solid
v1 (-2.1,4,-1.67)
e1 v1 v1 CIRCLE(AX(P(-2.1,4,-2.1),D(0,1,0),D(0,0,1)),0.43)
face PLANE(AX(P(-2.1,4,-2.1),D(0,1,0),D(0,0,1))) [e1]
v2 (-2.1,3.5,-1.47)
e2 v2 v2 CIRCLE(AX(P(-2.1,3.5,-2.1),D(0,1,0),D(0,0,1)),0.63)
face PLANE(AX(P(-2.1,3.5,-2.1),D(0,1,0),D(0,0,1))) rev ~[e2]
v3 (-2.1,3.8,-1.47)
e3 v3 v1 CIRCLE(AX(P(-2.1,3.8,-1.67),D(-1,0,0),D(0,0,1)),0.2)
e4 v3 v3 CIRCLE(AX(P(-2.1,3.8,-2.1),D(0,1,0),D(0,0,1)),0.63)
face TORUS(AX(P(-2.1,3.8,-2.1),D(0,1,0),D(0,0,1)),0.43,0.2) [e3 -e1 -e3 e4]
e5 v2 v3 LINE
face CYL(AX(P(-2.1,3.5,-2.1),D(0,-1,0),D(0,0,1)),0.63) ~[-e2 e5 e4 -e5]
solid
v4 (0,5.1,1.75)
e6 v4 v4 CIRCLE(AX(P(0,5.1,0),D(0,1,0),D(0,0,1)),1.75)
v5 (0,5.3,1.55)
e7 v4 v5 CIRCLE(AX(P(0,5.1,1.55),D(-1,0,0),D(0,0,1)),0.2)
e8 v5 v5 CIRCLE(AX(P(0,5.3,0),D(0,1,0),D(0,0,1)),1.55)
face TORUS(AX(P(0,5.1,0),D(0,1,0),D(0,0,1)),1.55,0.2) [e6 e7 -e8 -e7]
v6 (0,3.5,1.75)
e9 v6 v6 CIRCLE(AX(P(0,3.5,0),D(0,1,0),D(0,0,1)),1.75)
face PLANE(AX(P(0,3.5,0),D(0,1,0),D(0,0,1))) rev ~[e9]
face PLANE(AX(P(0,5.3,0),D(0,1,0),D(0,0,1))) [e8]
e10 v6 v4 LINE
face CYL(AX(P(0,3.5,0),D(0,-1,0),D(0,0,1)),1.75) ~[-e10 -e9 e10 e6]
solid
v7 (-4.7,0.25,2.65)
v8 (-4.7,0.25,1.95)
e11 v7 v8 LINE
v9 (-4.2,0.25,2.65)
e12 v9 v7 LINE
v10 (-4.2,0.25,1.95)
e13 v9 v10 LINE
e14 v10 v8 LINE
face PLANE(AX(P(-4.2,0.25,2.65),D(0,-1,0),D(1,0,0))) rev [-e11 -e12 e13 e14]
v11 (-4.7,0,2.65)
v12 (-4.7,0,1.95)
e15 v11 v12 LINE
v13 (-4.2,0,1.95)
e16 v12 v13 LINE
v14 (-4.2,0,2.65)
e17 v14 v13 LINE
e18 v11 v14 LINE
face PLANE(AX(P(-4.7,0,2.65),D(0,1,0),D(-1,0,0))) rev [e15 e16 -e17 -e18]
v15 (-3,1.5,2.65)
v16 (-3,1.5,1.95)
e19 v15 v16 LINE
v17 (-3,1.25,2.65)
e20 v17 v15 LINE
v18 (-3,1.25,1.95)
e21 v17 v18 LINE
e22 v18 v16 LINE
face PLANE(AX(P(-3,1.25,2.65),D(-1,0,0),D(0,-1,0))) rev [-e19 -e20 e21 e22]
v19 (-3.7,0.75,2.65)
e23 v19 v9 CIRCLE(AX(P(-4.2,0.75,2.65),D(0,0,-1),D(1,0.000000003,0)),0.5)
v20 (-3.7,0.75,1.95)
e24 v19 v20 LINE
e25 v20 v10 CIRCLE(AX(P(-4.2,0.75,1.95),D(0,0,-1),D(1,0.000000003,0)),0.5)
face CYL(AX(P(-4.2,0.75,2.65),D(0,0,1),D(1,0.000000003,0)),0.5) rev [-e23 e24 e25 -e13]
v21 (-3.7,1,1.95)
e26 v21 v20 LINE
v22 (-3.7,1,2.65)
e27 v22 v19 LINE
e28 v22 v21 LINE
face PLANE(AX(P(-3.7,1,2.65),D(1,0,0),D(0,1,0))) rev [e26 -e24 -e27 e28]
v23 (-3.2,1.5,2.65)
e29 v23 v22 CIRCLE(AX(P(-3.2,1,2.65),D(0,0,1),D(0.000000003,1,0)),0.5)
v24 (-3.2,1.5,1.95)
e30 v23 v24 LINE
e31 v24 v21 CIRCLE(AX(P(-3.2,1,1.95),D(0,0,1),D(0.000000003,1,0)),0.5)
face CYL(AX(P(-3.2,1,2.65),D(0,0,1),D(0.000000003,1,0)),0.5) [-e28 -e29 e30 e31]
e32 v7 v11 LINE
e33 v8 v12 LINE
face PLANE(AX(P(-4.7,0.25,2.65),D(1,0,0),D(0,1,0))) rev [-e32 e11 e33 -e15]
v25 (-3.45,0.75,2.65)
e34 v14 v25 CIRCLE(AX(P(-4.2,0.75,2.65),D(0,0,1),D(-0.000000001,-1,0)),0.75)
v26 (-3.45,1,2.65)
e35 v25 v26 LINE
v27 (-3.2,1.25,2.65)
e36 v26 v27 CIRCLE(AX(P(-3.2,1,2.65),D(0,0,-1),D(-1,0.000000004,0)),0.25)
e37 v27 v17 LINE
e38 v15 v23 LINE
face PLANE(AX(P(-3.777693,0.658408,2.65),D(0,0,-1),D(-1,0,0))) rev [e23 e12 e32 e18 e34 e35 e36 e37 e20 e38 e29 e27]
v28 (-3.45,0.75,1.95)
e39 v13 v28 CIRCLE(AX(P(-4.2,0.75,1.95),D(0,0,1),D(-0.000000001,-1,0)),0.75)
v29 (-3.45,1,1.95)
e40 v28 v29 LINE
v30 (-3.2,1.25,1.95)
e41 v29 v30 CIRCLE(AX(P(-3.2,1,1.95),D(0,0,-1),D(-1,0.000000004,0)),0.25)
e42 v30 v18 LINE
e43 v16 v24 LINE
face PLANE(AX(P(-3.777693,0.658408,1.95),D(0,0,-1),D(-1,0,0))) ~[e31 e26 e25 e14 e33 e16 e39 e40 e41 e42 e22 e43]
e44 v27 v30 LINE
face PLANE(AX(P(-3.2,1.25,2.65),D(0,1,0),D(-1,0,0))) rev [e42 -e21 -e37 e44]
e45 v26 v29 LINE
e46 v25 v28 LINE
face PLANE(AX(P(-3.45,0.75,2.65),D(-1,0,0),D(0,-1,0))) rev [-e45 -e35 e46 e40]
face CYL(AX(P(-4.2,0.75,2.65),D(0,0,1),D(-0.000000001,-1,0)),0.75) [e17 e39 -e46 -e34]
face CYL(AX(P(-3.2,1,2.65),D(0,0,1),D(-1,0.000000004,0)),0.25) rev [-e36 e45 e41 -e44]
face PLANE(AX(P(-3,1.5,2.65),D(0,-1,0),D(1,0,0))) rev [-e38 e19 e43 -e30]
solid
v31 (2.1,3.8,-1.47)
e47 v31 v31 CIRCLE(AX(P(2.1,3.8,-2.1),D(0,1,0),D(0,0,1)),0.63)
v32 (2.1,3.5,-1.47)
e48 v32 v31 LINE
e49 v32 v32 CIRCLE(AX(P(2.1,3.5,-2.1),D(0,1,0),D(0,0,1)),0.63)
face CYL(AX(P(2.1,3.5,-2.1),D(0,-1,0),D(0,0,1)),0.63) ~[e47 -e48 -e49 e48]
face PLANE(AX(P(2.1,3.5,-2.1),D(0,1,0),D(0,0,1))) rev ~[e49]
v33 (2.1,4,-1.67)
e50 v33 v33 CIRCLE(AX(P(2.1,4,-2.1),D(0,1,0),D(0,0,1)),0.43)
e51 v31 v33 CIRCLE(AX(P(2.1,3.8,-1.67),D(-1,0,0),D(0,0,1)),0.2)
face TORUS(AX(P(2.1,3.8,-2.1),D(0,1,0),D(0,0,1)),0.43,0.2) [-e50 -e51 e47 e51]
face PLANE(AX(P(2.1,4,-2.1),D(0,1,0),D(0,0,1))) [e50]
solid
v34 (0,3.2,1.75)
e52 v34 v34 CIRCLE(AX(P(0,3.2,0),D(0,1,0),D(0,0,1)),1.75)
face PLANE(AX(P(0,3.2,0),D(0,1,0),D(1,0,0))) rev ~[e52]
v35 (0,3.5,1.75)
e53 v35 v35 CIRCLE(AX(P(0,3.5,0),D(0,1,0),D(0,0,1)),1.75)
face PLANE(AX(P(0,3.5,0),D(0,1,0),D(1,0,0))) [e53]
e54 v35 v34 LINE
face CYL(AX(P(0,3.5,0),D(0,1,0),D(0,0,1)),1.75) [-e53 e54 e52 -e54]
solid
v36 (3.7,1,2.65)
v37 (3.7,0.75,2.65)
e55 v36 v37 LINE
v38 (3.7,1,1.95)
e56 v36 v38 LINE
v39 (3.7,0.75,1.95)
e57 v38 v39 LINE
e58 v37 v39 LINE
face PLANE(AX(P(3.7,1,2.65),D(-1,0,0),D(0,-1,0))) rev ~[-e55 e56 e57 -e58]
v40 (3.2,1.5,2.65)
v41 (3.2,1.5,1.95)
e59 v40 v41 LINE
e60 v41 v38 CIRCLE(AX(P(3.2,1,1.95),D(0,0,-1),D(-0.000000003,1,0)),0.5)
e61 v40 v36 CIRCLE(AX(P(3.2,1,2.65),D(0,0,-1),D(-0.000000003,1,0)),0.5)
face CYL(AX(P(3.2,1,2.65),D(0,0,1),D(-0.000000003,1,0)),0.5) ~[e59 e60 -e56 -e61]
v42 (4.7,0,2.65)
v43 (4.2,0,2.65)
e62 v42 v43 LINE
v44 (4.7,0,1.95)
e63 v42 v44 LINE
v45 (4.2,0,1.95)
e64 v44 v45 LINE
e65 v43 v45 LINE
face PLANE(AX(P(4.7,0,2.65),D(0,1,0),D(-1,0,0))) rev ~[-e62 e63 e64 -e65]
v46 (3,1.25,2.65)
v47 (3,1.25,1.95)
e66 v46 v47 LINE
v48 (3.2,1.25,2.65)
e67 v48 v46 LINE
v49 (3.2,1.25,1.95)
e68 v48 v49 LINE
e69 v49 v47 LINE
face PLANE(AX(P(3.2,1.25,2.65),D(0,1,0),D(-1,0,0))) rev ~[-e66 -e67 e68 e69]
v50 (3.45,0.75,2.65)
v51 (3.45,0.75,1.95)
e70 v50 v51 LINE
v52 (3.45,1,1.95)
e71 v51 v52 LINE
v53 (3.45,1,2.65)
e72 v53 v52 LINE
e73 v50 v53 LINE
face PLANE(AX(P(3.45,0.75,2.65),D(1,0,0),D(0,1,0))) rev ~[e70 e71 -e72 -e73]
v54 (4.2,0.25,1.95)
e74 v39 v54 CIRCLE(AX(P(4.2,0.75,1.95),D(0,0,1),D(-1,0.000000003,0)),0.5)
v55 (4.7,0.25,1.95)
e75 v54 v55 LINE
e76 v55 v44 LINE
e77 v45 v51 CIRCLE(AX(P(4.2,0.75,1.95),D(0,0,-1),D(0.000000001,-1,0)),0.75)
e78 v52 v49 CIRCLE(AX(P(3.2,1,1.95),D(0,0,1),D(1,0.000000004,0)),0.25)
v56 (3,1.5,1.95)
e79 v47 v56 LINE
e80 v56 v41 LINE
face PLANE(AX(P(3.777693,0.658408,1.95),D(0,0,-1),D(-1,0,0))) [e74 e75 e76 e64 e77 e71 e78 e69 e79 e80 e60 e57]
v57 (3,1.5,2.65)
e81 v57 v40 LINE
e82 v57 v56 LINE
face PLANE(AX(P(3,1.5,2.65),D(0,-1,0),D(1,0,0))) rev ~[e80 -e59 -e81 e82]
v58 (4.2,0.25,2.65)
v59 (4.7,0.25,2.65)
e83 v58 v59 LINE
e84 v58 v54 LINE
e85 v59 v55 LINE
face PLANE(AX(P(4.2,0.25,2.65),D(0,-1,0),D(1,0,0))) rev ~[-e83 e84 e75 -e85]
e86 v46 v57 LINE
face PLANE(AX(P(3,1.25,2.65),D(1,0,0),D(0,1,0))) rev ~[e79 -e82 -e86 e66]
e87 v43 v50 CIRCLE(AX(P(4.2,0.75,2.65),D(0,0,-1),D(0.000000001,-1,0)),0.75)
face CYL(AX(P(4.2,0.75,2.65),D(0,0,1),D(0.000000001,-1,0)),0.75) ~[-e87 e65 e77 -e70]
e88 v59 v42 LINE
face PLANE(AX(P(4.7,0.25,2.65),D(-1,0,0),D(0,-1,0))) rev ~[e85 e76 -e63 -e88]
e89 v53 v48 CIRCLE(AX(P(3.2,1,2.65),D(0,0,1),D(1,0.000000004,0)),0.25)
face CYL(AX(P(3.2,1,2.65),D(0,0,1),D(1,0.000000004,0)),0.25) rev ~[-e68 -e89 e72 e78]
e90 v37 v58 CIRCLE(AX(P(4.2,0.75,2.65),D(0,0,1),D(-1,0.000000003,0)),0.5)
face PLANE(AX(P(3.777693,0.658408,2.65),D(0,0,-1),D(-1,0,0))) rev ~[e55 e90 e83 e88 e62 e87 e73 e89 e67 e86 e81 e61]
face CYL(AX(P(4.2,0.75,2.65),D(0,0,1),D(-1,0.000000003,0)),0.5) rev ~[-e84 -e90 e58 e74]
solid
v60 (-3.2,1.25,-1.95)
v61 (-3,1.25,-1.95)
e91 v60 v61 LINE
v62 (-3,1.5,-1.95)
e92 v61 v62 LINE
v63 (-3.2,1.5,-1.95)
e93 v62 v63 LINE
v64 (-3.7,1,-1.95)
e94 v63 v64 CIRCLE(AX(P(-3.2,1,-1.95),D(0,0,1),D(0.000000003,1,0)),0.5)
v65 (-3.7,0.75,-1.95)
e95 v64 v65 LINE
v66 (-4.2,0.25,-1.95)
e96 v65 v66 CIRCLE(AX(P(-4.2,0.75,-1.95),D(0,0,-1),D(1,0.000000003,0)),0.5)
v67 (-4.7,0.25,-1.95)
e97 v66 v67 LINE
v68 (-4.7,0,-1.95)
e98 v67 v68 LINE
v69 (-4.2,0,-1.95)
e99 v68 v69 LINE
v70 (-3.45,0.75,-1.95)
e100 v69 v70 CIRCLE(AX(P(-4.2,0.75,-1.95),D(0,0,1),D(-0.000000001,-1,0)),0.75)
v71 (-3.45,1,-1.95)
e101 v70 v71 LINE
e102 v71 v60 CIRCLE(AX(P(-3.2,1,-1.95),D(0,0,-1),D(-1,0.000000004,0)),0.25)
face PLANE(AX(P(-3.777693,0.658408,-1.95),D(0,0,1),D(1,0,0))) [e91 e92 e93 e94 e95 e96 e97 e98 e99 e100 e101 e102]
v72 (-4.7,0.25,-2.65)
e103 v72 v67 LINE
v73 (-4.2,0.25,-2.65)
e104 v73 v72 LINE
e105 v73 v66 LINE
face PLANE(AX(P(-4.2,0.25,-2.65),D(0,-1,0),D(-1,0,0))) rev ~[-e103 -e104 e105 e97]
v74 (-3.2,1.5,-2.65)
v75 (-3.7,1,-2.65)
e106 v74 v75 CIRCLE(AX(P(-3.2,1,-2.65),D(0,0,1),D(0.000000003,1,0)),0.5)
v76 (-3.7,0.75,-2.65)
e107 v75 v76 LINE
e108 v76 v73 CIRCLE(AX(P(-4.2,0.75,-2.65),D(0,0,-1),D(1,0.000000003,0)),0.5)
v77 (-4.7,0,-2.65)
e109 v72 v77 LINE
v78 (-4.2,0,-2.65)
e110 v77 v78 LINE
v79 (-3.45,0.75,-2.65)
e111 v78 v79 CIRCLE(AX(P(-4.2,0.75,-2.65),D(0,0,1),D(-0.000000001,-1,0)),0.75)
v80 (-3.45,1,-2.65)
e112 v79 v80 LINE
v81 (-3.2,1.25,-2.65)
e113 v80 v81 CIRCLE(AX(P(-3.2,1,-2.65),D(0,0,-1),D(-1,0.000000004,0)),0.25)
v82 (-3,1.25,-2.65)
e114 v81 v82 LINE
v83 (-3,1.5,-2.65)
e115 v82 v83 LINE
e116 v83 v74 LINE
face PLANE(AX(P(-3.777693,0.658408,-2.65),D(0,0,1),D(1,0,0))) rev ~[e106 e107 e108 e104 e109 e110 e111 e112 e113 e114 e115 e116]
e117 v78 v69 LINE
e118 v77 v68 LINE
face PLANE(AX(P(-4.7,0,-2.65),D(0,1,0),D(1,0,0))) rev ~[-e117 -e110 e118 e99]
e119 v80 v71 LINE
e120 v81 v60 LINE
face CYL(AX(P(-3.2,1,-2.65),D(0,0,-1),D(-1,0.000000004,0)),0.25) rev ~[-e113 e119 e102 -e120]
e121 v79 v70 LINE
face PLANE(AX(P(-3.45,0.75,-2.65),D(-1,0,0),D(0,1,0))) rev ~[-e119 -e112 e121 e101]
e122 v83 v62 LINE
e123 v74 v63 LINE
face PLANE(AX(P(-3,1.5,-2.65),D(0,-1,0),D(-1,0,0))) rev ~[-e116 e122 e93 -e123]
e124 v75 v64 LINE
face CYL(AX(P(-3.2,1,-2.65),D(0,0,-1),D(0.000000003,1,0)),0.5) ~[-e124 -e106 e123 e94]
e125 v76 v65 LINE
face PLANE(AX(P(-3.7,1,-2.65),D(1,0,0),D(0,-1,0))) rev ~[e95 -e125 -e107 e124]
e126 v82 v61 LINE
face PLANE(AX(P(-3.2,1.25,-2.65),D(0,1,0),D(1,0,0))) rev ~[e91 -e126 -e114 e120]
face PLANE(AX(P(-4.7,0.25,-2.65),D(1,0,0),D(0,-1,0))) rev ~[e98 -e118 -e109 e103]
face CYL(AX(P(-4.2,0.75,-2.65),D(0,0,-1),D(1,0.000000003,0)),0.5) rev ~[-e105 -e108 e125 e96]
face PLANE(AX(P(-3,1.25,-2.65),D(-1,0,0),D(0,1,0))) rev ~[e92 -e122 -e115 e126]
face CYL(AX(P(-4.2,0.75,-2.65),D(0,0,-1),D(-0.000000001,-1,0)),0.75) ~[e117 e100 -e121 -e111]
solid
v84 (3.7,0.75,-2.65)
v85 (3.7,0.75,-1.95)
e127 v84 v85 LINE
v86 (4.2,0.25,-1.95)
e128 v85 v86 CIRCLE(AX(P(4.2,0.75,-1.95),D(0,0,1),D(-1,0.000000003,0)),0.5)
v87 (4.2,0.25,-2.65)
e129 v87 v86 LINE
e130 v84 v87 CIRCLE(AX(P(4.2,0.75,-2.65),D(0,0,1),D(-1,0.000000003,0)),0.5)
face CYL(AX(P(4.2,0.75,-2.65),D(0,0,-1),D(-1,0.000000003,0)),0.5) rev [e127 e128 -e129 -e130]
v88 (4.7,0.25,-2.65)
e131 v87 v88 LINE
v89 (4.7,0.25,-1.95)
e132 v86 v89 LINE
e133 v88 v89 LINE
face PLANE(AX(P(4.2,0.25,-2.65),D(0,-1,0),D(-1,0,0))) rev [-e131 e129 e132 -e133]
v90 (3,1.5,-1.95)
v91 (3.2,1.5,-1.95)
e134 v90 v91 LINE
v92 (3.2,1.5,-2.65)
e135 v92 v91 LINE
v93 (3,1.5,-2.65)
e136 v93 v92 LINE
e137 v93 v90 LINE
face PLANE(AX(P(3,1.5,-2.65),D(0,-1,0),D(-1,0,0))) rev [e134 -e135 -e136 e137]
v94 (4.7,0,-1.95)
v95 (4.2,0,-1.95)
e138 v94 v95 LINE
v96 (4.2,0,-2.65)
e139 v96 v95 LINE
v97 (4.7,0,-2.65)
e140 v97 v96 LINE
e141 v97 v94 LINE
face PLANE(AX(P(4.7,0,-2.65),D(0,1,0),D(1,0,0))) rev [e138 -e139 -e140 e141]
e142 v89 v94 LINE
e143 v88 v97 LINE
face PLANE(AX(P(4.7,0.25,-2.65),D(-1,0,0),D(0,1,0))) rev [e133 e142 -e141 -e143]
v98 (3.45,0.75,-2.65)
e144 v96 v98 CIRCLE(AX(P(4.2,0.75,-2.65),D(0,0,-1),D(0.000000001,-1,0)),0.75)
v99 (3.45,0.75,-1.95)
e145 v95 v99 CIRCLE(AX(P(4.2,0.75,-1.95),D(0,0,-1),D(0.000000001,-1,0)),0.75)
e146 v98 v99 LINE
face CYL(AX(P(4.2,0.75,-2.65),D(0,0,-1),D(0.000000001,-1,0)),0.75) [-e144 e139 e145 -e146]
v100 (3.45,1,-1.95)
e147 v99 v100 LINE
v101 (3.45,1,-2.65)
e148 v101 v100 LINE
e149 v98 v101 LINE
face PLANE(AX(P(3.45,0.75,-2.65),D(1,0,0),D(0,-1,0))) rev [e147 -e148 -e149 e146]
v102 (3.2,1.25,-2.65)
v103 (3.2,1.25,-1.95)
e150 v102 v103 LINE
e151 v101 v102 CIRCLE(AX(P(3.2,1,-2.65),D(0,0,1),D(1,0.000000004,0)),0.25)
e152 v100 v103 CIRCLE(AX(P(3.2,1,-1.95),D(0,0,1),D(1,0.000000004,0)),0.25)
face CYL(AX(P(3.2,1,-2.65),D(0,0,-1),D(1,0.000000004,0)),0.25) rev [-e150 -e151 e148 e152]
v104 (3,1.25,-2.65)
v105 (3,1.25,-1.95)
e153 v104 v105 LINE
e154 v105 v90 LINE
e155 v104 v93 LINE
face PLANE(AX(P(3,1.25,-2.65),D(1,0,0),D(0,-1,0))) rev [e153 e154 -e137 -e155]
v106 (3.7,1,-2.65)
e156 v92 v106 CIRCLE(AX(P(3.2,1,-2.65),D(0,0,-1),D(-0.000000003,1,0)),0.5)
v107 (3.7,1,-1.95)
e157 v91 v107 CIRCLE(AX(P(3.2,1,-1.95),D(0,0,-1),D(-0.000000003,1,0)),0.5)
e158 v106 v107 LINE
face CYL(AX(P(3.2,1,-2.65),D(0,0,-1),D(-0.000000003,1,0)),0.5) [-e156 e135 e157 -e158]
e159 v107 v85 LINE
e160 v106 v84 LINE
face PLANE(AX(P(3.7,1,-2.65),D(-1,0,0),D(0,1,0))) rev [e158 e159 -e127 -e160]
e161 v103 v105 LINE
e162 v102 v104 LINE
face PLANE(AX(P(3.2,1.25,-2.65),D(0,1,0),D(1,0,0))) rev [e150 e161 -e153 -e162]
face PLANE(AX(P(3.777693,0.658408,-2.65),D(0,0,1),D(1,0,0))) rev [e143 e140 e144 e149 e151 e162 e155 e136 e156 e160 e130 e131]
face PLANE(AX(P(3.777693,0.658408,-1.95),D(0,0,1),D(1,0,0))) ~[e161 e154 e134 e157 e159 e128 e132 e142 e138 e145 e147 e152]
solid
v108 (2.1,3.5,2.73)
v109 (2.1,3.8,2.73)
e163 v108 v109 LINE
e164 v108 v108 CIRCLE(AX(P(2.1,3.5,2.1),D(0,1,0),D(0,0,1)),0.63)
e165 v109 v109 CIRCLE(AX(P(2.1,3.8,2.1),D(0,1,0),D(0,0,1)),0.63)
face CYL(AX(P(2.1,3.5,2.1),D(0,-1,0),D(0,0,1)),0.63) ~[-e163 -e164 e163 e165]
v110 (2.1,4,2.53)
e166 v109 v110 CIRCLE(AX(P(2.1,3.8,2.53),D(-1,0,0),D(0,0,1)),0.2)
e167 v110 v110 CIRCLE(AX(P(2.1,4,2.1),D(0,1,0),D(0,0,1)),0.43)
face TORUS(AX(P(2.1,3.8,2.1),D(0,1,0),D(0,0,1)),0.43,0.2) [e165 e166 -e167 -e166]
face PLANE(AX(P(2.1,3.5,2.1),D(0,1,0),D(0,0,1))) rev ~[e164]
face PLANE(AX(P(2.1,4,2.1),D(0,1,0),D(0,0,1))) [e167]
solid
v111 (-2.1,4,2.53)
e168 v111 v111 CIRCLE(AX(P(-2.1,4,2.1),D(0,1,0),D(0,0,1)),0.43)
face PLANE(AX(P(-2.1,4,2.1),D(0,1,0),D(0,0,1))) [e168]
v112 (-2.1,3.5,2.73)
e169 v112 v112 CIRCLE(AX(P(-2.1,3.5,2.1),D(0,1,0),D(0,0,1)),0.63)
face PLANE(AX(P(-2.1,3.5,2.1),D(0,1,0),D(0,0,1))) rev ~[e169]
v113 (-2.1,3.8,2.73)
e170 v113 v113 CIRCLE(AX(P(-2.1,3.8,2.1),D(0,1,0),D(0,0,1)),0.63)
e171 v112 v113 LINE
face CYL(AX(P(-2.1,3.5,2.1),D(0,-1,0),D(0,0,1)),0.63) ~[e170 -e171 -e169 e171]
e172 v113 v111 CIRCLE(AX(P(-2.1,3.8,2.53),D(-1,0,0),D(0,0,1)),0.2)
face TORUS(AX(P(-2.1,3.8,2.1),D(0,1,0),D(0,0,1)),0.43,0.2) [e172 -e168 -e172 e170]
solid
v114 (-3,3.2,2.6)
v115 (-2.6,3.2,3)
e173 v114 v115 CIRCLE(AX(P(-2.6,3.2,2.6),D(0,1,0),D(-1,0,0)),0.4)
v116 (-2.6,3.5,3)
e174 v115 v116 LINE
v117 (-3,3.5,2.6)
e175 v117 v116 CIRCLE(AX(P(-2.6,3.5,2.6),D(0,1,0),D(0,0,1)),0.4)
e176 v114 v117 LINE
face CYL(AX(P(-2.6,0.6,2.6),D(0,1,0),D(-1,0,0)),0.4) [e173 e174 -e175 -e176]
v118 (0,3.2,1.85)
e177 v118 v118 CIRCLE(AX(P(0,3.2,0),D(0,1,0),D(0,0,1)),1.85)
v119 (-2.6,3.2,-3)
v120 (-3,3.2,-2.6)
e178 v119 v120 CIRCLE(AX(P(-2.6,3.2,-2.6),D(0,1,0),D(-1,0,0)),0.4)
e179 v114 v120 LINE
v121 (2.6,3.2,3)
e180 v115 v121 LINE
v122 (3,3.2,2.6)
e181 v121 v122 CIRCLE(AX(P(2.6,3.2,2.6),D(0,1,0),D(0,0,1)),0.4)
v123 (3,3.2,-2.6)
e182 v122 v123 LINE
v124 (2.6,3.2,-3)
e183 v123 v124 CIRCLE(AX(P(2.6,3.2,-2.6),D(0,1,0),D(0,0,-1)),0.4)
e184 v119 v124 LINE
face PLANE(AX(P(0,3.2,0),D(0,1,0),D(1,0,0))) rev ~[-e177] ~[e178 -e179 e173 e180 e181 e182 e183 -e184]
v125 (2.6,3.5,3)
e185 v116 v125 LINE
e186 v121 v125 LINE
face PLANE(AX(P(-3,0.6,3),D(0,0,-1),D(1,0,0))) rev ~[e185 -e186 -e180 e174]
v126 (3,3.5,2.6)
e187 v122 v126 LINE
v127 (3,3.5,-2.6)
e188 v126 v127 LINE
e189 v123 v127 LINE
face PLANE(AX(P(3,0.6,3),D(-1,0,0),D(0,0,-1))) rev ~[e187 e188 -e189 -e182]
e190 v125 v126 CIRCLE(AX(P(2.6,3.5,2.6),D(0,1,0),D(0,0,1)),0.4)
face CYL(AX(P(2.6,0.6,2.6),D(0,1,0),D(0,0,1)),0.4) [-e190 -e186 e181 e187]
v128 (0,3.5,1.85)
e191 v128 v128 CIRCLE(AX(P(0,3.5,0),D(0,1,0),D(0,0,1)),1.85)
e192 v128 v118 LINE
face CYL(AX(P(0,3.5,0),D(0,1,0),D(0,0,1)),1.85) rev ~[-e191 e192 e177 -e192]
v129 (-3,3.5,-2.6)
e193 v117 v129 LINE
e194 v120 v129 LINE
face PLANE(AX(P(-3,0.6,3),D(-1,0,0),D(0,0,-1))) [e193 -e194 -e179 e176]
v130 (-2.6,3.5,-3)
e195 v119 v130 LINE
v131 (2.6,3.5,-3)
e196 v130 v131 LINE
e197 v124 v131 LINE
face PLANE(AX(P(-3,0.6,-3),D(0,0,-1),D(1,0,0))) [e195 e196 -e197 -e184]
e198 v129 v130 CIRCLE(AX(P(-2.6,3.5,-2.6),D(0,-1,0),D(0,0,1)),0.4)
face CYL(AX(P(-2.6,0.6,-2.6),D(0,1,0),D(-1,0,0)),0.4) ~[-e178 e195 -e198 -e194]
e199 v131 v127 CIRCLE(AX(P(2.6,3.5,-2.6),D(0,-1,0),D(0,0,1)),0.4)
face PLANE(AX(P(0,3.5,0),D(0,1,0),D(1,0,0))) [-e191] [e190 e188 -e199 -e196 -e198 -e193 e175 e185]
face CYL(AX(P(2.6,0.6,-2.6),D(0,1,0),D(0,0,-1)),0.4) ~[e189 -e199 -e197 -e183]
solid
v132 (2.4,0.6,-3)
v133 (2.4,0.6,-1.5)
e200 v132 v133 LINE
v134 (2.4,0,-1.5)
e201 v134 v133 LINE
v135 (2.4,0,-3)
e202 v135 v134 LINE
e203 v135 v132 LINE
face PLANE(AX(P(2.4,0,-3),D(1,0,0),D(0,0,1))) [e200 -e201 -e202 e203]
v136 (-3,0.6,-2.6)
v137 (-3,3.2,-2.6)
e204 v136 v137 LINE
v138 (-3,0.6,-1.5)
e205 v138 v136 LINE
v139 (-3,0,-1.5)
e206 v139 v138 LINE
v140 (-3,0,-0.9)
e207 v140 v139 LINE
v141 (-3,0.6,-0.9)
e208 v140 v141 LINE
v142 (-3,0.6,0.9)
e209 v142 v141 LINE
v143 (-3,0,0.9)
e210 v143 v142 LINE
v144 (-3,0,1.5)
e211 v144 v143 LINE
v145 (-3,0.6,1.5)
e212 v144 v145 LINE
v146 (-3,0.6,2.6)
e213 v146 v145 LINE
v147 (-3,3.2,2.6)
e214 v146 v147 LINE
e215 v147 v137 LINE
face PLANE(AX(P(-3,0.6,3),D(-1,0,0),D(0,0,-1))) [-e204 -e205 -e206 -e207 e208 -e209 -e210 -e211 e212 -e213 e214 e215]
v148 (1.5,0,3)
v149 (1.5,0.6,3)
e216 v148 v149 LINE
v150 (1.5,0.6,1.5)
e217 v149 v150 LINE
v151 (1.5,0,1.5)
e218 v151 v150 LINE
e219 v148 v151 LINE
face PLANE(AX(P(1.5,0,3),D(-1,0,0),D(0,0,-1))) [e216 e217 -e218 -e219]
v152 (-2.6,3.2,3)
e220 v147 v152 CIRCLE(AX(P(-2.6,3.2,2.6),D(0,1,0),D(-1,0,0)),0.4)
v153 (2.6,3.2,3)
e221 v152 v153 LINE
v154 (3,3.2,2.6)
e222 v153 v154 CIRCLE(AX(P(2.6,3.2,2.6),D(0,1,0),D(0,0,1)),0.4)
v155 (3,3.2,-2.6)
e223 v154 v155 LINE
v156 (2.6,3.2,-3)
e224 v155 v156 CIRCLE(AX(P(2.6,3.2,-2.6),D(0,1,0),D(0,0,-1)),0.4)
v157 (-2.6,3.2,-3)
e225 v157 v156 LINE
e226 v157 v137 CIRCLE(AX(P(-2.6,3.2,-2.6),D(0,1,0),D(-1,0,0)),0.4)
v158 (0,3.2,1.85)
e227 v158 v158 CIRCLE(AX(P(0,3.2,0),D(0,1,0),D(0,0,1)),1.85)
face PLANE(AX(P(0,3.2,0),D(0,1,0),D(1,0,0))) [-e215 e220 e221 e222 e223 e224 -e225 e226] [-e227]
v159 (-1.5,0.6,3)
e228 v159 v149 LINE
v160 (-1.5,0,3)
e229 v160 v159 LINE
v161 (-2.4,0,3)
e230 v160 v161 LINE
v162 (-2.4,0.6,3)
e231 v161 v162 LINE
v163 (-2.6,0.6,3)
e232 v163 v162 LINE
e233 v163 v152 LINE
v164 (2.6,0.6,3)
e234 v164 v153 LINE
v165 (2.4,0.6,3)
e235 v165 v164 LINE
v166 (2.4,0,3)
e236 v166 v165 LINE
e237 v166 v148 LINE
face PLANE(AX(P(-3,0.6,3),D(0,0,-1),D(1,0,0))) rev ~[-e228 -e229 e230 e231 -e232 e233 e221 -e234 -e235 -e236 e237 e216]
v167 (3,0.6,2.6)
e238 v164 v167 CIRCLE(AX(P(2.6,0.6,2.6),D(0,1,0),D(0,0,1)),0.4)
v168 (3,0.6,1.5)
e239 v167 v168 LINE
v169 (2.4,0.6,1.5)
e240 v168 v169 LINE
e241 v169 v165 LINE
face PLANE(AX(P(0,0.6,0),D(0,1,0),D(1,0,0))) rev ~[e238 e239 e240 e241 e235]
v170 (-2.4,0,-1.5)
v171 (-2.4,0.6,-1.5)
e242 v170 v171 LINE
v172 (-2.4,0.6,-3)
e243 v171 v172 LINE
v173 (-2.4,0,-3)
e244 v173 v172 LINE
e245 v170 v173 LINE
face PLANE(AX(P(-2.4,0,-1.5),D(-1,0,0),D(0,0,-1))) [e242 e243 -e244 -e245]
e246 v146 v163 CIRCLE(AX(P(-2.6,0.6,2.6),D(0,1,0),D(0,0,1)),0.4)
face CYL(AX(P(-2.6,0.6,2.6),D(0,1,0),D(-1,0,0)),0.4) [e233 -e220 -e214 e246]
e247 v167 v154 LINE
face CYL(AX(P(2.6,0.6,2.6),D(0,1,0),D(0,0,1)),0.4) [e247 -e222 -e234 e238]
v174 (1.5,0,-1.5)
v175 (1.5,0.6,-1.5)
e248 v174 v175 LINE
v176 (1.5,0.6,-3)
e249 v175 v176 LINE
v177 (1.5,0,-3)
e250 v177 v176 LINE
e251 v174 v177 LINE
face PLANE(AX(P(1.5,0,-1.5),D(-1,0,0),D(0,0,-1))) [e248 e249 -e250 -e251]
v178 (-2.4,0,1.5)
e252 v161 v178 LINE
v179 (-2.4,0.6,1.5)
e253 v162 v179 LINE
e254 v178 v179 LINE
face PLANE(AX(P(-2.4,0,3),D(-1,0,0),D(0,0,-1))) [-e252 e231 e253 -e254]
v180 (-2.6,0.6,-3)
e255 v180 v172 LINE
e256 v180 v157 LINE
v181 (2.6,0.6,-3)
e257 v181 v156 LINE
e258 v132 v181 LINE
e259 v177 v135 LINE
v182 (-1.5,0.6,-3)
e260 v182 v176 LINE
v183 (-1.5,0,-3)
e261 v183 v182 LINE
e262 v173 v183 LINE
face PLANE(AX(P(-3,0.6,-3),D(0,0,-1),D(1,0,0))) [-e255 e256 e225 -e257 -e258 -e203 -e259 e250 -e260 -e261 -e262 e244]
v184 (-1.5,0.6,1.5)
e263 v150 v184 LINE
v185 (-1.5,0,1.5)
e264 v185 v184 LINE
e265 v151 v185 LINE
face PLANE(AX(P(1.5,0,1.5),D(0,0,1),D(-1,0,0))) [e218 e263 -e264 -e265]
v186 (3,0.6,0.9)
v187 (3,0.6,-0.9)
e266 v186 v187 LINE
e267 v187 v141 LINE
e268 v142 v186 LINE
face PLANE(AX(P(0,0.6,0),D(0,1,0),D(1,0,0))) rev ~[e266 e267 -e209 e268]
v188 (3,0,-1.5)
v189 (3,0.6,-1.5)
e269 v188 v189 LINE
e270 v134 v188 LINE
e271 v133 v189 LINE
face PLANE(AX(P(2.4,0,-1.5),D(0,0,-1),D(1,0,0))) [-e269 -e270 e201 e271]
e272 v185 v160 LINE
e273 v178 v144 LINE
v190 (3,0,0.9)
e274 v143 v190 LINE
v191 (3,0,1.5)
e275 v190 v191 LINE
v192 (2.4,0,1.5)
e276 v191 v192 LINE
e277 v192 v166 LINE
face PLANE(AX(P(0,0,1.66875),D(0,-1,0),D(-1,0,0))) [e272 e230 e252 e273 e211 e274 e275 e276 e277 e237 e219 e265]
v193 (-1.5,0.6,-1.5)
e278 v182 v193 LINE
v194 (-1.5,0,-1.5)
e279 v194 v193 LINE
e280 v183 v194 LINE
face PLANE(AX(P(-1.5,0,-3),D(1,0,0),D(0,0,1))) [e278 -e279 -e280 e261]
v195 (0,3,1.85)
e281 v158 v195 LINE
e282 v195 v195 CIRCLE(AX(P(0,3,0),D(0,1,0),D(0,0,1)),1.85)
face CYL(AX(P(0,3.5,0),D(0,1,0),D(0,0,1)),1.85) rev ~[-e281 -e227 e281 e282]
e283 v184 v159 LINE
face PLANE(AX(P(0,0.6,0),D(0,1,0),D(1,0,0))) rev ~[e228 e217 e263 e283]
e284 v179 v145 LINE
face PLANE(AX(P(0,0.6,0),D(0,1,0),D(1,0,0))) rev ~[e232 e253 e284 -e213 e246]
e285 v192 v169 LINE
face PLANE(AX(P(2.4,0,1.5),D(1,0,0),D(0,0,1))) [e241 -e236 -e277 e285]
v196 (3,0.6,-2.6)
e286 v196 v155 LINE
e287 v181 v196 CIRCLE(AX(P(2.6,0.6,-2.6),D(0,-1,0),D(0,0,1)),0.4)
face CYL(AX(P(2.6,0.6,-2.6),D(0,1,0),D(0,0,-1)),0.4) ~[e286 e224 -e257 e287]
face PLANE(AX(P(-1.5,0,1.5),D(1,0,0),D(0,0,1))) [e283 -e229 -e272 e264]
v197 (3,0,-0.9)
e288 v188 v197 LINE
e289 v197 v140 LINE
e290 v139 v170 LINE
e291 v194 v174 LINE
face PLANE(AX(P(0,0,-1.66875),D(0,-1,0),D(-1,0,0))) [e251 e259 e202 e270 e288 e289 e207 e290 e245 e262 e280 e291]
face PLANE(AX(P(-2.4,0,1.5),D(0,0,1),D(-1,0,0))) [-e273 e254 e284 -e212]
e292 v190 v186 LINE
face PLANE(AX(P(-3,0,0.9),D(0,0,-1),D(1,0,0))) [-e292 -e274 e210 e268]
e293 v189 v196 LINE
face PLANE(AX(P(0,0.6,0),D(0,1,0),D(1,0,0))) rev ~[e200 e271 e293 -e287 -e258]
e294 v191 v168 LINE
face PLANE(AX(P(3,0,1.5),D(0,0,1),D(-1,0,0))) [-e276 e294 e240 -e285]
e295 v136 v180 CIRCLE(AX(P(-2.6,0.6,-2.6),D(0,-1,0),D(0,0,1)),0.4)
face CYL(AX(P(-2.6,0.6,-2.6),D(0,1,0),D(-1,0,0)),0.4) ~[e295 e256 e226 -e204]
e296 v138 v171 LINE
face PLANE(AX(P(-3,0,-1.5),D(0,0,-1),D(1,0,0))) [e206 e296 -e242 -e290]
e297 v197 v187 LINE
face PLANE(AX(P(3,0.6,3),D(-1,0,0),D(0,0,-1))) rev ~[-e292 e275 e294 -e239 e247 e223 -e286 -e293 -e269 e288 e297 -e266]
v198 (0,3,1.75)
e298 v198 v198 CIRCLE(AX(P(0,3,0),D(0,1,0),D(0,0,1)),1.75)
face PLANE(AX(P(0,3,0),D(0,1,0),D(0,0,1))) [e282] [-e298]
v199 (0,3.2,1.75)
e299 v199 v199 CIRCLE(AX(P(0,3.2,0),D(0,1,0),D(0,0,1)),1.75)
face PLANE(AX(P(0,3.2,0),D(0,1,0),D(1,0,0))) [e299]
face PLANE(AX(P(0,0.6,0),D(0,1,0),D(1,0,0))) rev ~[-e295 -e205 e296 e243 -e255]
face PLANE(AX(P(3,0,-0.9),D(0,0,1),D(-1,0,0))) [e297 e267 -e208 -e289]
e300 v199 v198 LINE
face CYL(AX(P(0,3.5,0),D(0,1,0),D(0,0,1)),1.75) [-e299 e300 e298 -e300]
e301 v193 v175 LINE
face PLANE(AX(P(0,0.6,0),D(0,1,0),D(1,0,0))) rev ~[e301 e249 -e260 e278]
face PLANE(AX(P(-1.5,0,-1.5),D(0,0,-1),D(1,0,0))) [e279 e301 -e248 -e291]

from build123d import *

# Parameters (mm, degrees)
EXTRUDE_1_DEPTH     = 0.6
EXTRUDE_1_2_DEPTH   = 0.6
SKETCH_2_W          = 6
SKETCH_2_H          = 6
EXTRUDE_2_DEPTH     = 2.9
EXTRUDE_START       = -0.35
EXTRUDE_1_3_DEPTH   = 0.7
SKETCH_5_R          = 1.75
EXTRUDE_3_DEPTH     = 1.8
SKETCH_6_R          = 0.63
EXTRUDE_4_DEPTH     = 0.5
EXTRUDE_4_2_DEPTH   = 0.5
EXTRUDE_4_3_DEPTH   = 0.5
EXTRUDE_4_4_DEPTH   = 0.5
FILLET_1_R          = 0.2
FILLET_2_R          = 0.2
FILLET_3_R          = 0.2
FILLET_4_R          = 0.2
FILLET_5_R          = 0.2
FILLET_6_R          = 0.4
SKETCH_7_R          = 1.85
SKETCH_7_R_2        = 1.75
CUT_EXTRUDE_1_DEPTH = 0.5
SKETCH_8_W          = 9.056297772
SKETCH_8_H          = 7.592045862


with BuildPart() as part:
    # Эскиз1 → Extrude 1 (new body)
    with BuildSketch(Plane(origin=(0, 0, 0), x_dir=(1, 0, 0), z_dir=(0, 1, 0))):
        Polygon((3, 0.9), (-3, 0.9), (-3, 1.5), (-2.4, 1.5), (-2.4, 3), (-1.5, 3), (-1.5, 1.5), (1.5, 1.5), (1.5, 3), (2.4, 3), (2.4, 1.5), (3, 1.5), align=None)
    extrude(amount=EXTRUDE_1_DEPTH)



with BuildPart() as body_2:
    # Эскиз1 → Extrude 1 2 (new body)
    with BuildSketch(Plane(origin=(0, 0, 0), x_dir=(1, 0, 0), z_dir=(0, 1, 0))):
        Polygon((1.5, -3), (1.5, -1.5), (-1.5, -1.5), (-1.5, -3), (-2.4, -3), (-2.4, -1.5), (-3, -1.5), (-3, -0.9), (3, -0.9), (3, -1.5), (2.4, -1.5), (2.4, -3), align=None)
    extrude(amount=EXTRUDE_1_2_DEPTH)


with BuildPart() as part_1:
    add(part.part)

    add(body_2.part)  # Бобышка-Вытянуть2 merges body 2
    # Эскиз2 → Бобышка-Вытянуть2 (add)
    with BuildSketch(Plane(origin=(0, 0.6, 0), x_dir=(1, 0, 0), z_dir=(0, 1, 0))):
        Rectangle(SKETCH_2_W, SKETCH_2_H)
    extrude(amount=EXTRUDE_2_DEPTH)

    # Скругление6
    fillet_6_edges = [part_1.edges().sort_by_distance(p)[0] for p in [
        (3, 2.05, 3),
        (3, 2.05, -3),
        (-3, 2.05, -3),
        (-3, 2.05, 3),
    ]]
    fillet(fillet_6_edges, radius=FILLET_6_R)

    # Эскиз7 → Вырез-Вытянуть1 (cut)
    with BuildSketch(Plane(origin=(0, 3.5, 0), x_dir=(1, 0, 0), z_dir=(0, 1, 0))):
        with Locations(Location((0, 0, 0), (0, 0, 270))):
            Circle(SKETCH_7_R)
        with Locations(Location((0, 0, 0), (0, 0, 270))):
            Circle(SKETCH_7_R_2, mode=Mode.SUBTRACT)
    extrude(amount=-CUT_EXTRUDE_1_DEPTH, mode=Mode.SUBTRACT)


with BuildPart() as body_2_2:
    # Эскиз4 → Extrude 1 3 (new body)
    with BuildSketch(Plane.XY.offset(3).offset(EXTRUDE_START)):
        with BuildLine():
            Line((3, 1.5), (3.2, 1.5))
            ThreePointArc((3.2, 1.5), (3.553553391, 1.353553391), (3.7, 1))
            Line((3.7, 1), (3.7, 0.75))
            ThreePointArc((3.7, 0.75), (3.846446609, 0.396446609), (4.2, 0.25))
            Line((4.2, 0.25), (4.7, 0.25))
            Line((4.7, 0.25), (4.7, 0))
            Line((4.7, 0), (4.2, 0))
            ThreePointArc((4.2, 0), (3.669669914, 0.219669914), (3.45, 0.75))
            Line((3.45, 0.75), (3.45, 1))
            ThreePointArc((3.45, 1), (3.376776695, 1.176776695), (3.2, 1.25))
            Line((3.2, 1.25), (3, 1.25))
            Line((3, 1.25), (3, 1.5))
        make_face()
    extrude(amount=-EXTRUDE_1_3_DEPTH)


with BuildPart() as body_3:
    # Зеркальное отражение1: mirrored copy
    add(body_2_2.part.mirror(Plane.XY))


with BuildPart() as body_4:
    # Зеркальное отражение2: mirrored copy
    add(body_2_2.part.mirror(Plane(origin=(0, 0, 0), x_dir=(0, 0, 1), z_dir=(1, 0, 0))))


with BuildPart() as body_5:
    # Mirror 2 2: mirrored copy
    add(body_3.part.mirror(Plane(origin=(0, 0, 0), x_dir=(0, 0, 1), z_dir=(1, 0, 0))))


with BuildPart() as body_6:
    # Эскиз5 → Бобышка-Вытянуть3 (new body)
    with BuildSketch(Plane(origin=(0, 3.5, 0), x_dir=(1, 0, 0), z_dir=(0, 1, 0))):
        with Locations(Location((0, 0, 0), (0, 0, 270))):
            Circle(SKETCH_5_R)
    extrude(amount=EXTRUDE_3_DEPTH)

    # Скругление5
    fillet_5_edges = [body_6.edges().sort_by_distance(p)[0] for p in [
        (0, 5.3, -1.75),
    ]]
    fillet(fillet_5_edges, radius=FILLET_5_R)


with BuildPart() as body_7:
    # Эскиз6 → Бобышка-Вытянуть4 (new body)
    with BuildSketch(Plane(origin=(0, 3.5, 0), x_dir=(1, 0, 0), z_dir=(0, 1, 0))):
        with Locations(Location((-2.1, 2.1, 0), (0, 0, 270))):
            Circle(SKETCH_6_R)
    extrude(amount=EXTRUDE_4_DEPTH)

    # Скругление3
    fillet_3_edges = [body_7.edges().sort_by_distance(p)[0] for p in [
        (-2.1, 4, -2.73),
    ]]
    fillet(fillet_3_edges, radius=FILLET_3_R)


with BuildPart() as body_8:
    # Эскиз6 → Extrude 4 2 (new body)
    with BuildSketch(Plane(origin=(0, 3.5, 0), x_dir=(1, 0, 0), z_dir=(0, 1, 0))):
        with Locations(Location((2.1, 2.1, 0), (0, 0, 270))):
            Circle(SKETCH_6_R)
    extrude(amount=EXTRUDE_4_2_DEPTH)

    # Скругление4
    fillet_4_edges = [body_8.edges().sort_by_distance(p)[0] for p in [
        (2.1, 4, -2.73),
    ]]
    fillet(fillet_4_edges, radius=FILLET_4_R)


with BuildPart() as body_9:
    # Эскиз6 → Extrude 4 3 (new body)
    with BuildSketch(Plane(origin=(0, 3.5, 0), x_dir=(1, 0, 0), z_dir=(0, 1, 0))):
        with Locations(Location((2.1, -2.1, 0), (0, 0, 270))):
            Circle(SKETCH_6_R)
    extrude(amount=EXTRUDE_4_3_DEPTH)

    # Скругление1
    fillet_1_edges = [body_9.edges().sort_by_distance(p)[0] for p in [
        (2.1, 4, 1.47),
    ]]
    fillet(fillet_1_edges, radius=FILLET_1_R)


with BuildPart() as body_10:
    # Эскиз6 → Extrude 4 4 (new body)
    with BuildSketch(Plane(origin=(0, 3.5, 0), x_dir=(1, 0, 0), z_dir=(0, 1, 0))):
        with Locations(Location((-2.1, -2.1, 0), (0, 0, 270))):
            Circle(SKETCH_6_R)
    extrude(amount=EXTRUDE_4_4_DEPTH)

    # Скругление2
    fillet_2_edges = [body_10.edges().sort_by_distance(p)[0] for p in [
        (-2.1, 4, 1.47),
    ]]
    fillet(fillet_2_edges, radius=FILLET_2_R)


with BuildPart() as body_11:
    # Split Bodies 1: the piece behind the surface
    add(part_1.part)
    # Эскиз8 → Sheet Plane 1: a flat surface bounded by the sketch
    with BuildSketch(Plane(origin=(0, 3.2, 0), x_dir=(1, 0, 0), z_dir=(0, 1, 0)), mode=Mode.PRIVATE) as sheet_plane_1_1_region:
        Rectangle(SKETCH_8_W, SKETCH_8_H)
    sheet_plane_1_1 = sheet_plane_1_1_region.sketch.faces()[0]
    split(bisect_by=sheet_plane_1_1, keep=Keep.BOTTOM)


with BuildPart() as part_2:
    add(part_1.part)

    # Split Bodies 1: split by a surface, the side it looks to stays
    # Эскиз8 → Sheet Plane 1: a flat surface bounded by the sketch
    with BuildSketch(Plane(origin=(0, 3.2, 0), x_dir=(1, 0, 0), z_dir=(0, 1, 0)), mode=Mode.PRIVATE) as sheet_plane_1_2_region:
        Rectangle(SKETCH_8_W, SKETCH_8_H)
    sheet_plane_1_2 = sheet_plane_1_2_region.sketch.faces()[0]
    split(bisect_by=sheet_plane_1_2, keep=Keep.TOP)


solid = Compound([body_2_2.part, body_3.part, body_4.part, body_5.part, body_6.part, body_7.part, body_8.part, body_9.part, body_10.part, body_11.part, part_2.part])
